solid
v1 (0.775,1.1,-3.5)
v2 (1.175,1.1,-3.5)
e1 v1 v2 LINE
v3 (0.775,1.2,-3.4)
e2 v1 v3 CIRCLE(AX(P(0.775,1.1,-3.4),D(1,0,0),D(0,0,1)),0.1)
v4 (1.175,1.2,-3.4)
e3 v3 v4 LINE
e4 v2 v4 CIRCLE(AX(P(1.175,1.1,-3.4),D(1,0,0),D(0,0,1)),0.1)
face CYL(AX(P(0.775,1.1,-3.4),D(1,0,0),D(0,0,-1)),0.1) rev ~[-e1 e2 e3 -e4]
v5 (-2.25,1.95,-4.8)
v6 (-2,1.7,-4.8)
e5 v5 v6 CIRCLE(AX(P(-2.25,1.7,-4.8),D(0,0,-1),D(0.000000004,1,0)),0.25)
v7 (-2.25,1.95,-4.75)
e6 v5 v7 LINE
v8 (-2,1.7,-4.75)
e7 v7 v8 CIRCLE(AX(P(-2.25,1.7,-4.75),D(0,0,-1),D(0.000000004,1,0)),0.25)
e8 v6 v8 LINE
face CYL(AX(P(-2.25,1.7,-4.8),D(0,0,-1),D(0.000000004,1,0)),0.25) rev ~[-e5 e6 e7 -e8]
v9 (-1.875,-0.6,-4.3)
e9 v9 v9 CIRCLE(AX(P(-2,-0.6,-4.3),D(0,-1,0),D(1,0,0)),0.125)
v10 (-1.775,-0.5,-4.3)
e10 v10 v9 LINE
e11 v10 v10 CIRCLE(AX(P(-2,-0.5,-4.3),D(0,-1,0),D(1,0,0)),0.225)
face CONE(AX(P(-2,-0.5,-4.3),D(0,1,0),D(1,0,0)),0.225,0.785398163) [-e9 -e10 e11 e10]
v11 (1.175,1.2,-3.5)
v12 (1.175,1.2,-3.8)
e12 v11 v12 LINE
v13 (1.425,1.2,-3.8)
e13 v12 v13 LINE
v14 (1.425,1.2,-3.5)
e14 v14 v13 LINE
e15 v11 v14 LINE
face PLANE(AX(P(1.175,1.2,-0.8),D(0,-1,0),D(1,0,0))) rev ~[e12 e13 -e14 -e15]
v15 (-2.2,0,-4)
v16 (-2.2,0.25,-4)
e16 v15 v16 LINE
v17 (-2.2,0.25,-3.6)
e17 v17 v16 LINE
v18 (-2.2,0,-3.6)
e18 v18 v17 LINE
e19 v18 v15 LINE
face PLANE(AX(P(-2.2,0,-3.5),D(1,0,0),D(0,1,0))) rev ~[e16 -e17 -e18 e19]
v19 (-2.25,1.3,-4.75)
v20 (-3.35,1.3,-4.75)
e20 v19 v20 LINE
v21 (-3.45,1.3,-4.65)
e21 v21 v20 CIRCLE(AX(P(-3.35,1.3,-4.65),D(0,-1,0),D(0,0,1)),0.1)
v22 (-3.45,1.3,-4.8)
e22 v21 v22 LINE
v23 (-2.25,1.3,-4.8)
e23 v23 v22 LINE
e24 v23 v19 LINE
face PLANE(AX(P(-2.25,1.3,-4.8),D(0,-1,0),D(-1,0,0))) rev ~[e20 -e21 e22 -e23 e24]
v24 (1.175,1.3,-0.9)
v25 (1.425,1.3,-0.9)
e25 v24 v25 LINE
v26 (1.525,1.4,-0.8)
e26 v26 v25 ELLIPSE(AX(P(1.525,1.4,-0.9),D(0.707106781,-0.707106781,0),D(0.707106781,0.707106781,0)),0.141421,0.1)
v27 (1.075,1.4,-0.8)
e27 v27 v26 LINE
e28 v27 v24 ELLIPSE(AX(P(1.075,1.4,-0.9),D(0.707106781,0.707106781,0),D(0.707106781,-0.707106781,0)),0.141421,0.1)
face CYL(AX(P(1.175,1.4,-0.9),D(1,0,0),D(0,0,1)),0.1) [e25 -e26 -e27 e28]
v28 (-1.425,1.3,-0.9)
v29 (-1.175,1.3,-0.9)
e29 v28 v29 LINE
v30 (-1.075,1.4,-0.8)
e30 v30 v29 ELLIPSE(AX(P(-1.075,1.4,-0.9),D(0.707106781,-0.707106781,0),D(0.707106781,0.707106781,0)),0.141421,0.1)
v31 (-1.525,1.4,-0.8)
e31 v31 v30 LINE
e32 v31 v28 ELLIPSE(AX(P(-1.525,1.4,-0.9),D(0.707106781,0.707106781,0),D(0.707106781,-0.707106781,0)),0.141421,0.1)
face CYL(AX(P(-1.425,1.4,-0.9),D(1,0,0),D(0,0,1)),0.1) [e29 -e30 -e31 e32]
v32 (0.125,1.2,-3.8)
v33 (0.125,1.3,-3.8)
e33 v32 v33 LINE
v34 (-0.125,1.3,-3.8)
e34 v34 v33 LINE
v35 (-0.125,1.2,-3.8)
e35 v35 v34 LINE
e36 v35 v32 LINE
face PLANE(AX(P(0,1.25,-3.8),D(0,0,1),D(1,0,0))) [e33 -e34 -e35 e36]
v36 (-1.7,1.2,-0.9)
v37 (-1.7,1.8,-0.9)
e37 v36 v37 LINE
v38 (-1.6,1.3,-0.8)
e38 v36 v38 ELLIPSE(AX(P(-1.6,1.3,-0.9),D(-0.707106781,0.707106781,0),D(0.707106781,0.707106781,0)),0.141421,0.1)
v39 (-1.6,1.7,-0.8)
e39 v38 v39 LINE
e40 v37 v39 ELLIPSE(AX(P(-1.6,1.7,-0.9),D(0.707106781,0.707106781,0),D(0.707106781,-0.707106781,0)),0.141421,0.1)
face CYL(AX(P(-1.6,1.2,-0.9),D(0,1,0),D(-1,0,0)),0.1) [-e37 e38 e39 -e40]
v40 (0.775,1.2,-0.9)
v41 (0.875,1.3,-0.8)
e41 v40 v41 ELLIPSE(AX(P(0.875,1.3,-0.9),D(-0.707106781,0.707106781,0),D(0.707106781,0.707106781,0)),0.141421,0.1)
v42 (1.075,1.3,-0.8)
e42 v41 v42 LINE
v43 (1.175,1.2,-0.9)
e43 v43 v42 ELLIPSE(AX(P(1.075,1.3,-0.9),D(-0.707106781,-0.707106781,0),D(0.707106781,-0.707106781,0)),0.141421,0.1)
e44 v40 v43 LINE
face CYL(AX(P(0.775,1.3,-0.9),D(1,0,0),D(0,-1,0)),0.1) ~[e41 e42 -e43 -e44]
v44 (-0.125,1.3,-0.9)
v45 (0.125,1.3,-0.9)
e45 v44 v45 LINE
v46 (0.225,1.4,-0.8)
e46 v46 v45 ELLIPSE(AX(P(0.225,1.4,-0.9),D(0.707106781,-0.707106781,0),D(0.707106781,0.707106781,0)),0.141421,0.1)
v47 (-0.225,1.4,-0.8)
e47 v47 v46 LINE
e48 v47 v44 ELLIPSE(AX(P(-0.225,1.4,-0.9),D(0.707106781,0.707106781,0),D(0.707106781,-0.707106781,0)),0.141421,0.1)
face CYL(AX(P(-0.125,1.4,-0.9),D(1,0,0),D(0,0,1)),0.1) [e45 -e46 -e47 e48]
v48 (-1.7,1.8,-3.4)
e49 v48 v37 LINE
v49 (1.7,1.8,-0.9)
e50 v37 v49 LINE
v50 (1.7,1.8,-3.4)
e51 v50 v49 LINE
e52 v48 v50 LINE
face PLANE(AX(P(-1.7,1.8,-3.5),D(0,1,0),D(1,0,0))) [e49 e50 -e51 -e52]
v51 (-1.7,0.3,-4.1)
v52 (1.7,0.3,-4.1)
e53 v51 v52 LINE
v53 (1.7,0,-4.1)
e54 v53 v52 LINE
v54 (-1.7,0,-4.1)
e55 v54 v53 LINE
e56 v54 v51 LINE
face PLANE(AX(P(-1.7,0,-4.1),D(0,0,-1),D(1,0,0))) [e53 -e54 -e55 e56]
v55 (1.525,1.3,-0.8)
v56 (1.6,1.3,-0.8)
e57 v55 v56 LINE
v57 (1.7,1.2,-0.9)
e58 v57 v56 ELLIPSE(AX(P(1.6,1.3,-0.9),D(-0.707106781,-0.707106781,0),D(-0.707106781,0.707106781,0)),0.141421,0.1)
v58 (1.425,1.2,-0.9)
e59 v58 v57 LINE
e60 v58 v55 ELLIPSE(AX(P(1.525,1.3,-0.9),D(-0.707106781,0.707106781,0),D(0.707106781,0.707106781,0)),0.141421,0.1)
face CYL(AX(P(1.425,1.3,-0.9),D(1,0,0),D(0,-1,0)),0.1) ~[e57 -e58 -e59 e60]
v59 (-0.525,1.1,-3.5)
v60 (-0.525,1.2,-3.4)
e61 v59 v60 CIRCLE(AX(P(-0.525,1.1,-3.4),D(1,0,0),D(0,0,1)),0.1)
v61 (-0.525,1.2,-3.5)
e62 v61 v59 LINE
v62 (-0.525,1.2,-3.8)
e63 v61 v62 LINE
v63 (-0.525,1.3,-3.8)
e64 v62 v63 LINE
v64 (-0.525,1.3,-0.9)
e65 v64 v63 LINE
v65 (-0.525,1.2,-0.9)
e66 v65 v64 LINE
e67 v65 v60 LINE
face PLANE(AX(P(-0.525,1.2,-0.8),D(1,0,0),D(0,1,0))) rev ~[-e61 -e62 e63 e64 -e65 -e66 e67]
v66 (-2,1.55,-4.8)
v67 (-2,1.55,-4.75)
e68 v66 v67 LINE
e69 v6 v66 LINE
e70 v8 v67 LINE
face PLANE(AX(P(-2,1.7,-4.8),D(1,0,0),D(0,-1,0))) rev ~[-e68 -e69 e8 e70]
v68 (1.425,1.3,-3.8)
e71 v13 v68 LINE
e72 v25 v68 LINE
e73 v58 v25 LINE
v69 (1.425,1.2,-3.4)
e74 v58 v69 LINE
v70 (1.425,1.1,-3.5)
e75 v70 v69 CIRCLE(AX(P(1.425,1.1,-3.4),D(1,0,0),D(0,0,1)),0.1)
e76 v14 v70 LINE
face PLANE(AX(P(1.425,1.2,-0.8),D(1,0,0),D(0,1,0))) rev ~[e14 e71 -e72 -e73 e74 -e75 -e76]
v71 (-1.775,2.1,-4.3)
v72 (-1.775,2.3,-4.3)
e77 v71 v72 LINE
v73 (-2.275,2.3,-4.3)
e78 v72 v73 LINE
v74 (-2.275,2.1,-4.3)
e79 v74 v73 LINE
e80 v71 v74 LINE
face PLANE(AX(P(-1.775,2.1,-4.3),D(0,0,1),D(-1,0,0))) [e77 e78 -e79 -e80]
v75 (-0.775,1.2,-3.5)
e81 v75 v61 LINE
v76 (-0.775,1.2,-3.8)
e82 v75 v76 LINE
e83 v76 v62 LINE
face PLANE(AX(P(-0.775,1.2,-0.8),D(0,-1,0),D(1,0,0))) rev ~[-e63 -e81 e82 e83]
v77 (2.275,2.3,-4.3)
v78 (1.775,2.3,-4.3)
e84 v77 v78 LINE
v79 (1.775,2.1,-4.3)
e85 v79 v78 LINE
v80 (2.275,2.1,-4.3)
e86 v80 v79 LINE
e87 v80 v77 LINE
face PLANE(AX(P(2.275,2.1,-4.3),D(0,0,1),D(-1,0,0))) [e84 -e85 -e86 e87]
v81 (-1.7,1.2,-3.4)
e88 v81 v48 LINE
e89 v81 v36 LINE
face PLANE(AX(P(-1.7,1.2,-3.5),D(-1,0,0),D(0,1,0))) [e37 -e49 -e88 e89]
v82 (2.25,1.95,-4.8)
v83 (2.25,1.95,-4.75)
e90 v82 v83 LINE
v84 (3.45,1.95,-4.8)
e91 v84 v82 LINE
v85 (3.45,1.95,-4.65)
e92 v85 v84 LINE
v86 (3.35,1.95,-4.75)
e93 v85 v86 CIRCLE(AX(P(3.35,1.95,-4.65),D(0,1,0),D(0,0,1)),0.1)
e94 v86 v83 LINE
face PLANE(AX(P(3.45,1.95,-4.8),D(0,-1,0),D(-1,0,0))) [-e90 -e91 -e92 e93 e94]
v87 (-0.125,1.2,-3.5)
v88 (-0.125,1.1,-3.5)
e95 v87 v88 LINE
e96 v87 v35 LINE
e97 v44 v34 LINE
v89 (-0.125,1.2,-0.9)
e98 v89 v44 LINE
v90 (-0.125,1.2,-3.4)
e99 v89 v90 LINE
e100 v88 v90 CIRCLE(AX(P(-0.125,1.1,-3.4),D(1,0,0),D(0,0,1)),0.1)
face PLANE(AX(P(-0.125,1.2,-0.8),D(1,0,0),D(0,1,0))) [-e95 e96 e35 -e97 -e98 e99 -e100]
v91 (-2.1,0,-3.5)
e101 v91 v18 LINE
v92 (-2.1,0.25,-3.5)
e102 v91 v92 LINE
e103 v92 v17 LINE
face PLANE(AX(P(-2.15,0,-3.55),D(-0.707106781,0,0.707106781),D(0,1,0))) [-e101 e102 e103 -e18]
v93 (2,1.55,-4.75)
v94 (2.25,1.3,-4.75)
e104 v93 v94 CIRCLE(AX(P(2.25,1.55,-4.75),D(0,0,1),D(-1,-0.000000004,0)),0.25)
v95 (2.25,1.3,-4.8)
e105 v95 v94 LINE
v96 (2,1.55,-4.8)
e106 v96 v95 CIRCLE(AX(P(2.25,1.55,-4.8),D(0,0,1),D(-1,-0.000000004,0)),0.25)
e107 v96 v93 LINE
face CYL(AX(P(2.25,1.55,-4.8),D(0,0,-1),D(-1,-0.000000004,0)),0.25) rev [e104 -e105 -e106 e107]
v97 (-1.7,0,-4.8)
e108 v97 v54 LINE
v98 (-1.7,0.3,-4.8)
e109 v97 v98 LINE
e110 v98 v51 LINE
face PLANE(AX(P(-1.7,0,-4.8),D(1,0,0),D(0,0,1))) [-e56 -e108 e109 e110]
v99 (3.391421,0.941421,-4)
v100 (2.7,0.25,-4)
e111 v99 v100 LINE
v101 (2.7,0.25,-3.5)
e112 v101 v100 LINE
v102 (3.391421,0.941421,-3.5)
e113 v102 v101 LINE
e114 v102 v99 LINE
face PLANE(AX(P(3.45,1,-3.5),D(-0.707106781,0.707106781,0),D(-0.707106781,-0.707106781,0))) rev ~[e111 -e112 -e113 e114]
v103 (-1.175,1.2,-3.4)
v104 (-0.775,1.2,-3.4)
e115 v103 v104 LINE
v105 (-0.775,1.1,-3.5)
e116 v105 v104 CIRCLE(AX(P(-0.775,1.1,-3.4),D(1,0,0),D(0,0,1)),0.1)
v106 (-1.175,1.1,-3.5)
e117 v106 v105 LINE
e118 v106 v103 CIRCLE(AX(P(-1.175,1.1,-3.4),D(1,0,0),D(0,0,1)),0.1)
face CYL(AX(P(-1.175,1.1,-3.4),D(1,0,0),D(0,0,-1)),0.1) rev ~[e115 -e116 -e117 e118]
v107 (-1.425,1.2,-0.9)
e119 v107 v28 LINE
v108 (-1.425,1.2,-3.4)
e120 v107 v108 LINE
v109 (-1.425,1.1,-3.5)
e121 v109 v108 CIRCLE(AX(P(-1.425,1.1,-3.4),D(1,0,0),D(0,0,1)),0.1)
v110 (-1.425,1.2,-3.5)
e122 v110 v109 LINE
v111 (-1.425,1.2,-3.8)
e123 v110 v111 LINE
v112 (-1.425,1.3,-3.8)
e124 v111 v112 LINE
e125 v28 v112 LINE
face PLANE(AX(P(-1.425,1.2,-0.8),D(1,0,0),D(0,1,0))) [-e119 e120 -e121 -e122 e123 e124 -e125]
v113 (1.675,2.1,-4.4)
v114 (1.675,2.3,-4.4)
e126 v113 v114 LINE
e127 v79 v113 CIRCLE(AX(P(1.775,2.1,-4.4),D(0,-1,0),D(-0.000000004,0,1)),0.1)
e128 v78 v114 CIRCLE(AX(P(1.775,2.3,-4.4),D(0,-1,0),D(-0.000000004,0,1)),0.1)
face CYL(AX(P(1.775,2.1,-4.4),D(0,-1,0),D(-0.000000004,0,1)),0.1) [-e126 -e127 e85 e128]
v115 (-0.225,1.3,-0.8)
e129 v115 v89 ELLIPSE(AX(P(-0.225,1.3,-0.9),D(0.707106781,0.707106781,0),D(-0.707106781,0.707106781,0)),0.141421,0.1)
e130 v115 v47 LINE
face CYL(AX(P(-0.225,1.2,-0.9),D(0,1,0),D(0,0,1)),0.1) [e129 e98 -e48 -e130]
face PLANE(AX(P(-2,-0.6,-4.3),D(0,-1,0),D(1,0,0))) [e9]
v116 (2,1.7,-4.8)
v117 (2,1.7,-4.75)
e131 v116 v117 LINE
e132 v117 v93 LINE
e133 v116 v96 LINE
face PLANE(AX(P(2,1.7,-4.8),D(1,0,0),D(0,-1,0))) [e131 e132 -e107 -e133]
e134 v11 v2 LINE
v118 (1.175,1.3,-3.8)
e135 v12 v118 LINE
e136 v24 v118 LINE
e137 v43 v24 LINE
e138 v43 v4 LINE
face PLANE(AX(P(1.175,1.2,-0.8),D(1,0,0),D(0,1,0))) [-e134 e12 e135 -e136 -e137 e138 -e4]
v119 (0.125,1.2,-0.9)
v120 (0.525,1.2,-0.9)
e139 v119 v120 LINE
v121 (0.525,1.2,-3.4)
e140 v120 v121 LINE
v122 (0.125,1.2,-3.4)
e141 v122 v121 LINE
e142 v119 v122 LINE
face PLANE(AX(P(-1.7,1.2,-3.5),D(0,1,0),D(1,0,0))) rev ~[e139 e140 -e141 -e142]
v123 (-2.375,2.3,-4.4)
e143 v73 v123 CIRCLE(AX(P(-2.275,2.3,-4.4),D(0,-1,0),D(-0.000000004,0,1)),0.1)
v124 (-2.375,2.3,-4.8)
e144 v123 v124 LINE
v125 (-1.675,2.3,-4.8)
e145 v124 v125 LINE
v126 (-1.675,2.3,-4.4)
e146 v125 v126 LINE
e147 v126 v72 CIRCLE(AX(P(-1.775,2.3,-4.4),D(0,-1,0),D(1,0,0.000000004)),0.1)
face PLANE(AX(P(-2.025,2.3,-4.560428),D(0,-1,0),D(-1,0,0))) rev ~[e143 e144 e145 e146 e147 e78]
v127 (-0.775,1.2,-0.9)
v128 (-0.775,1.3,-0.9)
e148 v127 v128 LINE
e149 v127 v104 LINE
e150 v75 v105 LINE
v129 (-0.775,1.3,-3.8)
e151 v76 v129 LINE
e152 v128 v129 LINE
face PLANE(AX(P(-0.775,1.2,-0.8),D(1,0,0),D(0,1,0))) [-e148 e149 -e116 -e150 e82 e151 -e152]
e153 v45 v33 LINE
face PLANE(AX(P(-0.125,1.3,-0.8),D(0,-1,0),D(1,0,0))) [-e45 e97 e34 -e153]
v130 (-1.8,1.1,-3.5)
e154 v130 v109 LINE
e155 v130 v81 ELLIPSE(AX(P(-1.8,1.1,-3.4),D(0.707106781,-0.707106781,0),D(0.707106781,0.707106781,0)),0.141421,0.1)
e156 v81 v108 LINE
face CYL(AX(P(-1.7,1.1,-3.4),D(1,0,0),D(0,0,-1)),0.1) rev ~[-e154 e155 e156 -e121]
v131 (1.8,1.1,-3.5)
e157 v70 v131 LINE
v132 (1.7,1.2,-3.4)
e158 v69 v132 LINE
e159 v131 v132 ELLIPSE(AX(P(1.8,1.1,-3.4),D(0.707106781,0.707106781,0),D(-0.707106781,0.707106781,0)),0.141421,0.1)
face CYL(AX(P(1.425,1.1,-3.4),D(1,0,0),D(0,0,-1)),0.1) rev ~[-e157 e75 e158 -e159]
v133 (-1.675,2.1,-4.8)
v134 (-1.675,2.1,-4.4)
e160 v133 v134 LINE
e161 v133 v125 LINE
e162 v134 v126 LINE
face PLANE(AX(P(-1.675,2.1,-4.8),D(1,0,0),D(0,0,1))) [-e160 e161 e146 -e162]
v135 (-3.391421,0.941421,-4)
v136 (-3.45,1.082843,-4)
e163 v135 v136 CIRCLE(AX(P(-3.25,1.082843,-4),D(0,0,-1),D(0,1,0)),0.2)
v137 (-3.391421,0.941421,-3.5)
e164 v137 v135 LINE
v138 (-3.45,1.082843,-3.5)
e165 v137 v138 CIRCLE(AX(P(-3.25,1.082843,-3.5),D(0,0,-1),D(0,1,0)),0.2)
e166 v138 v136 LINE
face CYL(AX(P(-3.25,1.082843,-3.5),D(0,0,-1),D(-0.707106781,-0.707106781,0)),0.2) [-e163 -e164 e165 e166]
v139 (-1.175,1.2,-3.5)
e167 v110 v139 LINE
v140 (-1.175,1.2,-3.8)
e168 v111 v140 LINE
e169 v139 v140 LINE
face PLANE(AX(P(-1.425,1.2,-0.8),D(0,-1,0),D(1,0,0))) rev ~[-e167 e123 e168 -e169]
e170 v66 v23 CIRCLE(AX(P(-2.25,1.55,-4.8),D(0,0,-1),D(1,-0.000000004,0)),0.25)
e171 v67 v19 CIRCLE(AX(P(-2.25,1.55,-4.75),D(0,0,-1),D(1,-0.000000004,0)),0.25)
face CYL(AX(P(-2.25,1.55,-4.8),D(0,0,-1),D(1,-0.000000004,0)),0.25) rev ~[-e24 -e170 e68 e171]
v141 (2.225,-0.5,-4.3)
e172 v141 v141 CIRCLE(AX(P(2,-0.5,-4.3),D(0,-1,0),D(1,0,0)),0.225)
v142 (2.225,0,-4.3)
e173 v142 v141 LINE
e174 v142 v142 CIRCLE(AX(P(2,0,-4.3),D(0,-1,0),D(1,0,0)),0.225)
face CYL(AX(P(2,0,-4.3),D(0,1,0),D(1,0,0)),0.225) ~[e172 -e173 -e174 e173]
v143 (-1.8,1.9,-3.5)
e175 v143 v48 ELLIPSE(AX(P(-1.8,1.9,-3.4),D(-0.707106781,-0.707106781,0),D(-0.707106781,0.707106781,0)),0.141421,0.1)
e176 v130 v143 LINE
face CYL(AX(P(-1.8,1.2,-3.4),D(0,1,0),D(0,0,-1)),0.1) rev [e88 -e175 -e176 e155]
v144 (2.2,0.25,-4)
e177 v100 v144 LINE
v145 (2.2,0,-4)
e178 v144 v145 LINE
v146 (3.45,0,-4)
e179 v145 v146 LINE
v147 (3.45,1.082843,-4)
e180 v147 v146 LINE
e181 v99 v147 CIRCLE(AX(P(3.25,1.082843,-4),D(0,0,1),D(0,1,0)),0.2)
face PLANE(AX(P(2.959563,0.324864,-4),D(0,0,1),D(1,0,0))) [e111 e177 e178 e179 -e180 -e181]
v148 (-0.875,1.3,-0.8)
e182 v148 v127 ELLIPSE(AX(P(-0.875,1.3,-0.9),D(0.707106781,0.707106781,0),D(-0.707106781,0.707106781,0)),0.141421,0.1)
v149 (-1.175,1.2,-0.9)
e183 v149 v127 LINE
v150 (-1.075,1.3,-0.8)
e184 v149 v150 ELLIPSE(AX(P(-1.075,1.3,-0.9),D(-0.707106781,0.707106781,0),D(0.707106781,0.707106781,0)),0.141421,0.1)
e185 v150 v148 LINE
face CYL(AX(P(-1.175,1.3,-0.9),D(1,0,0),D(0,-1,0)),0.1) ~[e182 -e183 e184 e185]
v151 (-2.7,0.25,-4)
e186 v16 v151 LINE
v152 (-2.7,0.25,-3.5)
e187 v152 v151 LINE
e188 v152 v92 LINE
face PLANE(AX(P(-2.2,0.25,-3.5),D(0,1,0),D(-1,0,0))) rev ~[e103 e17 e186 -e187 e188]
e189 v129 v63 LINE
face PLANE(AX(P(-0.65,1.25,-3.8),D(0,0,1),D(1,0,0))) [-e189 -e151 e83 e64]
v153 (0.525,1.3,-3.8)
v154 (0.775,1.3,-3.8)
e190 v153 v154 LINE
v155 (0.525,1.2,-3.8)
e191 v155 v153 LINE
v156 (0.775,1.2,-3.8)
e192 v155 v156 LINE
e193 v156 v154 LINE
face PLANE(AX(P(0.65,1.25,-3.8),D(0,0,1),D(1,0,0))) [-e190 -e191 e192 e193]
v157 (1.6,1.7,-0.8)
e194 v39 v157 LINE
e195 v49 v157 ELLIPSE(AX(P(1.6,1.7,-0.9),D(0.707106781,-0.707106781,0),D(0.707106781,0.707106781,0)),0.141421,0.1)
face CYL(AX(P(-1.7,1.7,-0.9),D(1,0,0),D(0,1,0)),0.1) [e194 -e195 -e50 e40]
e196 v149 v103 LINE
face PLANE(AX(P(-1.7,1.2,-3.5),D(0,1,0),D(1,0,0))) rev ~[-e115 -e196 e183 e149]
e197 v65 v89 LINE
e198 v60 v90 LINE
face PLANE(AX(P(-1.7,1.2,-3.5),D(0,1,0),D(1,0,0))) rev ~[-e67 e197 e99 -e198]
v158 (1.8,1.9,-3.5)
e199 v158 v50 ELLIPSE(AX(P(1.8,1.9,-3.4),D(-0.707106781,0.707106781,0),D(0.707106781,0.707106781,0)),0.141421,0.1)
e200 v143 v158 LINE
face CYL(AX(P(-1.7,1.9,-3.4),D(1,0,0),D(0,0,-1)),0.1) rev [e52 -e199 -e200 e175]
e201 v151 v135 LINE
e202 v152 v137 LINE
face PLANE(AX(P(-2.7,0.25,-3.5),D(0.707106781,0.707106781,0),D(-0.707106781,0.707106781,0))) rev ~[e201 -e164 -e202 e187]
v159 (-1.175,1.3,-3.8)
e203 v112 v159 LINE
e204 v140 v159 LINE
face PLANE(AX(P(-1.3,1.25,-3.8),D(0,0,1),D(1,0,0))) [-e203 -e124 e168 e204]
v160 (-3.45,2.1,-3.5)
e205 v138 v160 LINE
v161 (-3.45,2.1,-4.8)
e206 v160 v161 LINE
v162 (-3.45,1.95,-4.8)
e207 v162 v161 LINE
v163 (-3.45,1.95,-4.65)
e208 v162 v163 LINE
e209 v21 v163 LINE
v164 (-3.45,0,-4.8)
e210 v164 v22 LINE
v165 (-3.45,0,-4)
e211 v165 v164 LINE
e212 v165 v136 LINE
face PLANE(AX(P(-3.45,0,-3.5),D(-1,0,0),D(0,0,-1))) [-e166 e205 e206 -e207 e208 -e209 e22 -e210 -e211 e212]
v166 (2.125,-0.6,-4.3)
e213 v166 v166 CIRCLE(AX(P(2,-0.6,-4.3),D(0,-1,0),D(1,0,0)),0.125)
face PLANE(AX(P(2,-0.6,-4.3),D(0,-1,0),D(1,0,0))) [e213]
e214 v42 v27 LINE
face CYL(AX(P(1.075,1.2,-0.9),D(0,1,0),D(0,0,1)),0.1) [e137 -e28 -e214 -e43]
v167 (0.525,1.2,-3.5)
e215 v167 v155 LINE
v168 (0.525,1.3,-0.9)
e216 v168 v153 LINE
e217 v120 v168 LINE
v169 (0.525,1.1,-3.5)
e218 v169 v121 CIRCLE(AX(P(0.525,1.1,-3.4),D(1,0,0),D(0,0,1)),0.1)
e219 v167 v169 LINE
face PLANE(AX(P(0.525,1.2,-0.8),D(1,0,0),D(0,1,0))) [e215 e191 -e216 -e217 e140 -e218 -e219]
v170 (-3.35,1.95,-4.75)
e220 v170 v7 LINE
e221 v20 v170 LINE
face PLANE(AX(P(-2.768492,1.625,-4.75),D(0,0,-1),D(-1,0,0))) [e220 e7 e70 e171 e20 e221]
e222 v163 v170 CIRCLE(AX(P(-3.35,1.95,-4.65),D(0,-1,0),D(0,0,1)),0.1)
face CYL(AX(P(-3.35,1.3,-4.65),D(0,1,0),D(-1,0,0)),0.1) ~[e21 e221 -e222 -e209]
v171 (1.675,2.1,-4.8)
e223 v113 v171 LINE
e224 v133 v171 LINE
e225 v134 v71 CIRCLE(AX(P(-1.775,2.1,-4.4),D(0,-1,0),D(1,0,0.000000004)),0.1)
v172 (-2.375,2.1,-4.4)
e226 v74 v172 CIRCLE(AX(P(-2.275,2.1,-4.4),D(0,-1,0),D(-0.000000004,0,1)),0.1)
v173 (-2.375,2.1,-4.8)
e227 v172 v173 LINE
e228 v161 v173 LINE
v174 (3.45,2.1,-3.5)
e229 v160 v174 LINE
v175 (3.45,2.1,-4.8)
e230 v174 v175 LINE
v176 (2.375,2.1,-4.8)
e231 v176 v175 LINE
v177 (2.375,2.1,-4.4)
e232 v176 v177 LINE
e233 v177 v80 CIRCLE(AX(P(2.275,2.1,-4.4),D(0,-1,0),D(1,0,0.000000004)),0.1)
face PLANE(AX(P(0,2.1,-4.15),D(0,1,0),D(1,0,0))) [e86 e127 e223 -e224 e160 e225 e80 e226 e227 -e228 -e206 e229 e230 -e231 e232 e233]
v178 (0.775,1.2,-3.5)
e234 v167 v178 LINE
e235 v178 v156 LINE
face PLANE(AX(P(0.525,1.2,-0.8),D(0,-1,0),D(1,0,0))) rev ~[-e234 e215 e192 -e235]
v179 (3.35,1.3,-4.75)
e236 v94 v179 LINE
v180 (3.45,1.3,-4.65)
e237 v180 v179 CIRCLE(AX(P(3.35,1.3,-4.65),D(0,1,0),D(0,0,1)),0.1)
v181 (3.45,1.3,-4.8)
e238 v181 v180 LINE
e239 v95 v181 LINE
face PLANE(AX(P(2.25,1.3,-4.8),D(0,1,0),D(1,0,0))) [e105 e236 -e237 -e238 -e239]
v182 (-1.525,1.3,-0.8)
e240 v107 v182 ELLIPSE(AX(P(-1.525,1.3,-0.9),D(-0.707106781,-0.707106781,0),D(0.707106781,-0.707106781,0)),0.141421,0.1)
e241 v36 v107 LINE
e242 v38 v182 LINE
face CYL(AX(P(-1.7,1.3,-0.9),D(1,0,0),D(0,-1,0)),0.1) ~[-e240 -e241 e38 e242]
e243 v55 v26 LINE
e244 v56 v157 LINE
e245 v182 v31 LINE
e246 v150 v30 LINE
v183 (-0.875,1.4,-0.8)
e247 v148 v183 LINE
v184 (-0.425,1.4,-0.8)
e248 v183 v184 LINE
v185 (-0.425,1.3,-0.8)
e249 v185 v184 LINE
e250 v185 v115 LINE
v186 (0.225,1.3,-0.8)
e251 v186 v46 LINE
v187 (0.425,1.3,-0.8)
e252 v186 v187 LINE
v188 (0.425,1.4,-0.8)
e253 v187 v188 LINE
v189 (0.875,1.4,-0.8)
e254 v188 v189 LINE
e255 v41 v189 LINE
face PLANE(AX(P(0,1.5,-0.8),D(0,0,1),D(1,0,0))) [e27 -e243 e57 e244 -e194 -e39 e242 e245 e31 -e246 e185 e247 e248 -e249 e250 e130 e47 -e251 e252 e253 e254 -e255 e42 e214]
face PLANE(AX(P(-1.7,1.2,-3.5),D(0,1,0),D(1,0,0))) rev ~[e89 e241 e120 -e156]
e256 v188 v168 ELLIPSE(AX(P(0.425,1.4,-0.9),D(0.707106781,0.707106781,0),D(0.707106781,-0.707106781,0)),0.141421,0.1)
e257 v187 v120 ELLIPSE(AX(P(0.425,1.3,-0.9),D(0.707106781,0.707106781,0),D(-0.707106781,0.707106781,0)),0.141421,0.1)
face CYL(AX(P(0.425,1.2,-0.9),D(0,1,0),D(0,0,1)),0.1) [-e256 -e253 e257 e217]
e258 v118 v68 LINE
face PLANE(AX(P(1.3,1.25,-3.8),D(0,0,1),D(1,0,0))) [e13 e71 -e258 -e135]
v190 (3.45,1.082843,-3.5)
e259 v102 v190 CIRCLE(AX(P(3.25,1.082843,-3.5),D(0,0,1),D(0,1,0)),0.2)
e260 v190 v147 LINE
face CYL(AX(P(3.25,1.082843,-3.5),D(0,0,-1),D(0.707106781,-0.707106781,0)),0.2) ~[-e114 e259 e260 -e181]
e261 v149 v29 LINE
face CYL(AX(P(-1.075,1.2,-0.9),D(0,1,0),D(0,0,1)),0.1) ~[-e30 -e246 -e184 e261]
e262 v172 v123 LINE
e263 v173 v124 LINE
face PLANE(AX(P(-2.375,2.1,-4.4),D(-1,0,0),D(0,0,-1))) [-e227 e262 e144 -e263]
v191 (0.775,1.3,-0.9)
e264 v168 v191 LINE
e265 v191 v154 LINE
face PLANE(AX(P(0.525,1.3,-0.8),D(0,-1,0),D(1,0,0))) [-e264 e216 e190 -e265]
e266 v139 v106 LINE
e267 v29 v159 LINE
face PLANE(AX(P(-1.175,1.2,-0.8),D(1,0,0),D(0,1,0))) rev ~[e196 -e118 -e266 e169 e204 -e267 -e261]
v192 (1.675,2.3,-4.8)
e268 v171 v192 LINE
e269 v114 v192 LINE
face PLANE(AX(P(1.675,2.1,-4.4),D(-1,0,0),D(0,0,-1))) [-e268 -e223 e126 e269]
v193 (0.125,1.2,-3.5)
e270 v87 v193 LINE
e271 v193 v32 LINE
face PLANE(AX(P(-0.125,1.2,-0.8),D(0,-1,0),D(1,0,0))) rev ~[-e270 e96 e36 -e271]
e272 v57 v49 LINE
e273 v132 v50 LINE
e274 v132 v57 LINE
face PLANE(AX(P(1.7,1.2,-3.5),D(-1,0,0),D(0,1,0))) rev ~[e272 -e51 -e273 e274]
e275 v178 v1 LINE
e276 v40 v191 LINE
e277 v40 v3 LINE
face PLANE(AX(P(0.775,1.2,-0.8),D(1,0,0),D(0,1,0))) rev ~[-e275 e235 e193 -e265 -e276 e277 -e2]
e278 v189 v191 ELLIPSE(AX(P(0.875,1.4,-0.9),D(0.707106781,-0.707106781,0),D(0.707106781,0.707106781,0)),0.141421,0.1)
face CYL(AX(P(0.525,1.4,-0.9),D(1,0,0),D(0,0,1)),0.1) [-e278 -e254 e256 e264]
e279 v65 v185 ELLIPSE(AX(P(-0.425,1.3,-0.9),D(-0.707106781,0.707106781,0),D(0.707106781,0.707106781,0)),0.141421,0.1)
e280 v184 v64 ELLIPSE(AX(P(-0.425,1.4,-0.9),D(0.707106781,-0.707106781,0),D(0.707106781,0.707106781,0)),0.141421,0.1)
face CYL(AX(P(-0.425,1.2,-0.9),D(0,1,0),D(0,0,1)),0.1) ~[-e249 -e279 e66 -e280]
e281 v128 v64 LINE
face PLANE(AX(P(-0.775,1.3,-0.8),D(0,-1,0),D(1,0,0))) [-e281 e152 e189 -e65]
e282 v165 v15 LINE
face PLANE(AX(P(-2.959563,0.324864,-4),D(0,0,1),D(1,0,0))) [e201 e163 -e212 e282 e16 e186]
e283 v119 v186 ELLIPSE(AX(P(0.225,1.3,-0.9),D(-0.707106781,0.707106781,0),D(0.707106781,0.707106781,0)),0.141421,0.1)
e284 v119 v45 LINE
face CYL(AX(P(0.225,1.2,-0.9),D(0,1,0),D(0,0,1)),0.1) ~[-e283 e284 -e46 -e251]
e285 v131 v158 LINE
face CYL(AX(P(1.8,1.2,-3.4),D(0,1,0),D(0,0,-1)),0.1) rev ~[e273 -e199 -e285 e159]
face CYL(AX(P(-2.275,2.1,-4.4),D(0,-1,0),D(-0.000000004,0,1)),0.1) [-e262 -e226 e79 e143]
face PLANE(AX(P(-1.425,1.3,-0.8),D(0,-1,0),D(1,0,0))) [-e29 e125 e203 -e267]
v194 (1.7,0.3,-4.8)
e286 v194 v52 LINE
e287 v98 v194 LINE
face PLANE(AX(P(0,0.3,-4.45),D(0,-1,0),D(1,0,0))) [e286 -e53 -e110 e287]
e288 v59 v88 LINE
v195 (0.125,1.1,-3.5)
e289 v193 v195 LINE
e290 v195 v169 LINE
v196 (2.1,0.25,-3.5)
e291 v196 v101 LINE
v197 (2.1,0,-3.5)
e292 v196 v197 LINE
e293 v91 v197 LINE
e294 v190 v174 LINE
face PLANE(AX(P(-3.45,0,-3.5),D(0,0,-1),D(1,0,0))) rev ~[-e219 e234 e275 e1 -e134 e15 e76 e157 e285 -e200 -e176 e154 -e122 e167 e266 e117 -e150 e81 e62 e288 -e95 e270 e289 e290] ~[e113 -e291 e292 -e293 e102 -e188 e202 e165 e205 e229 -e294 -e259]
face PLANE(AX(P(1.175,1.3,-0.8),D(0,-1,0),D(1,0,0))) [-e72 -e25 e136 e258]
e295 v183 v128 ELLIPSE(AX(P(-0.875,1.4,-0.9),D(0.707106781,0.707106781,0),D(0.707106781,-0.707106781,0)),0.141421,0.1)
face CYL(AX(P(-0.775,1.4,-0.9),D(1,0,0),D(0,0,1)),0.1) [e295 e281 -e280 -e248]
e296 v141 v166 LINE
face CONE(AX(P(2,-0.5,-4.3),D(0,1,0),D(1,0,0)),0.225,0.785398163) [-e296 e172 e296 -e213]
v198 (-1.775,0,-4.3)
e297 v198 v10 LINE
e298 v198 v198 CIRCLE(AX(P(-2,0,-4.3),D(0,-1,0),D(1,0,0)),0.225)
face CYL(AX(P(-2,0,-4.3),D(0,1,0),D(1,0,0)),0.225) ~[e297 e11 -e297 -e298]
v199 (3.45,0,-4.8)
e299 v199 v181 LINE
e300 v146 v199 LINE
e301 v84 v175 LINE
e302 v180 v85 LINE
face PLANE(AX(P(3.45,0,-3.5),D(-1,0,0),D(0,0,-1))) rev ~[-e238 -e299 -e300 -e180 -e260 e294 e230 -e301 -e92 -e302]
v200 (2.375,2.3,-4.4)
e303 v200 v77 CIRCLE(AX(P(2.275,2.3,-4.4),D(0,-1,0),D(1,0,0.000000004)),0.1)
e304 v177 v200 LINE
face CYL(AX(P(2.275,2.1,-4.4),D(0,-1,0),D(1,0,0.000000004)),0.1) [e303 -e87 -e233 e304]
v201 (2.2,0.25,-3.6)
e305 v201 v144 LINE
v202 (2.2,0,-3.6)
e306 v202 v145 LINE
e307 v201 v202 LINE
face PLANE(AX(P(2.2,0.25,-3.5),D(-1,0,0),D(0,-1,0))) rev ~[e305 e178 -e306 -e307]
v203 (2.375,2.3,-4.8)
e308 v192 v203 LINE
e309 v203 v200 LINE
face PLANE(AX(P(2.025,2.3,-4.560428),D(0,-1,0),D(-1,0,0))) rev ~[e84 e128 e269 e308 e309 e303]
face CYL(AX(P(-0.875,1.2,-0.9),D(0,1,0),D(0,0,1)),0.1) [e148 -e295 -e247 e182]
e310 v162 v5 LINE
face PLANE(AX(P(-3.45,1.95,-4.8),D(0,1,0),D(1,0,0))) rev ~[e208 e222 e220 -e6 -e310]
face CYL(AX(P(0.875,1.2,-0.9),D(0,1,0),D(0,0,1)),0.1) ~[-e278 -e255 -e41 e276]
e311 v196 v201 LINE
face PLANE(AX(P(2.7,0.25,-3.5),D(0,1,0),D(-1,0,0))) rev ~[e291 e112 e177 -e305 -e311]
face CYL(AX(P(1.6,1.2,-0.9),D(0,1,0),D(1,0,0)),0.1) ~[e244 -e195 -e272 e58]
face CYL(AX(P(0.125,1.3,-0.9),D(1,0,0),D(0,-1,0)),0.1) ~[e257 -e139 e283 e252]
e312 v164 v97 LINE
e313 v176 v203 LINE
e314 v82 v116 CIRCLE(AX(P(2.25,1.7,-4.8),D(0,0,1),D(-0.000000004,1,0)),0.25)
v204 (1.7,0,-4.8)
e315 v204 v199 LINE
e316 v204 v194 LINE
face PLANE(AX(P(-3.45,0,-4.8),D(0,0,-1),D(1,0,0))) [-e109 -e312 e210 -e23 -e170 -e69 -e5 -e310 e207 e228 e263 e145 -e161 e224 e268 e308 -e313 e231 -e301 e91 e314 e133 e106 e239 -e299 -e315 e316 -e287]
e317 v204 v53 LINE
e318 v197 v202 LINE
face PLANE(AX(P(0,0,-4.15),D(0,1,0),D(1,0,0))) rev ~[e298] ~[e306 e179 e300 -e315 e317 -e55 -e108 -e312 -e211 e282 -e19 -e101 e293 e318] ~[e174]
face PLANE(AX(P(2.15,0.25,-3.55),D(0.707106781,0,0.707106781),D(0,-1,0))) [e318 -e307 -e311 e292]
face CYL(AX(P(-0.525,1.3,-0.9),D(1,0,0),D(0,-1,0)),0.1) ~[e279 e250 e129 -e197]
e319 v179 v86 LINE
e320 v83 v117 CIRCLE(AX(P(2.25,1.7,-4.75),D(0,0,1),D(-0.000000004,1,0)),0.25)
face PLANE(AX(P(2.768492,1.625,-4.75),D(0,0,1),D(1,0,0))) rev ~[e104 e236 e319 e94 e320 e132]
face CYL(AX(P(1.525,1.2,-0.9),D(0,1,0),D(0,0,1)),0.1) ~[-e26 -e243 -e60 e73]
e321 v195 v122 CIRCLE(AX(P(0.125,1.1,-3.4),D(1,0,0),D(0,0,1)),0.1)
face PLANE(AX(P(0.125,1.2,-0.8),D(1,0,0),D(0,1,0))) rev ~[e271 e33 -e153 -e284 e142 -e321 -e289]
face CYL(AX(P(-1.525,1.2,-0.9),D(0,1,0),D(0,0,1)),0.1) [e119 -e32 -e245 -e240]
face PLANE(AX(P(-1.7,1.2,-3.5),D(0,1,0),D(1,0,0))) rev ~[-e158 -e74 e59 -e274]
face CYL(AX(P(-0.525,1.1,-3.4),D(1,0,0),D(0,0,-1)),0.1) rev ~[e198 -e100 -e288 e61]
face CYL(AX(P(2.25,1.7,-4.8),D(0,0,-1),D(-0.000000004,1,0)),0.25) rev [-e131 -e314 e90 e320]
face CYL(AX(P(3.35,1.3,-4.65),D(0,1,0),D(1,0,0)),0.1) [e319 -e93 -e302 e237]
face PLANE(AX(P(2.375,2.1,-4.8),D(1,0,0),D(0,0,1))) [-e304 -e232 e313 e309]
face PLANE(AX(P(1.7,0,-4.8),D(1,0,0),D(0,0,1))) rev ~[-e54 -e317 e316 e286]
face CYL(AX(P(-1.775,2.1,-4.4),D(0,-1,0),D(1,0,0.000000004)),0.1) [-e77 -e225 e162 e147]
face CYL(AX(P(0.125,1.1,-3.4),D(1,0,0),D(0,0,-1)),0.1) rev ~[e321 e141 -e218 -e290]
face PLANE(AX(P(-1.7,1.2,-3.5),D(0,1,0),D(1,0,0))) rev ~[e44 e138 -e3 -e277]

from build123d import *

# Parameters (mm, degrees)
SKETCH1_W           = 6.9
SKETCH1_H           = 1.3
BOSS_EXTRUDE1_DEPTH = 2.1
SKETCH2_W           = 3.4
SKETCH2_H           = 0.6
BOSS_EXTRUDE2_DEPTH = 2.7
SKETCH3_W           = 0.25
SKETCH3_H           = 0.1
CUT_EXTRUDE1_DEPTH  = 3
FILLET1_R           = 0.1
CUT_EXTRUDE2_DEPTH  = 0.5
FILLET3_R           = 0.2
CHAMFER1_SIZE       = 0.1
CUT_EXTRUDE3_DEPTH  = 0.05
FILLET4_R           = 0.1
SKETCH6_R           = 0.225
BOSS_EXTRUDE3_DEPTH = 0.6
CHAMFER2_SIZE       = 0.1
SKETCH7_W           = 3.4
SKETCH7_H           = 0.7
CUT_EXTRUDE4_DEPTH  = 0.3
BOSS_EXTRUDE4_DEPTH = 0.2


with BuildPart() as part:
    # Sketch1 → Boss-Extrude1 (new body)
    with BuildSketch(Plane(origin=(0, 0, 0), x_dir=(1, 0, 0), z_dir=(0, 1, 0))):
        with Locations((0, 4.15)):
            Rectangle(SKETCH1_W, SKETCH1_H)
    extrude(amount=BOSS_EXTRUDE1_DEPTH)

    # Sketch2 → Boss-Extrude2 (add)
    with BuildSketch(Plane.XY.offset(-3.5)):
        with Locations((0, 1.5)):
            Rectangle(SKETCH2_W, SKETCH2_H)
    extrude(amount=BOSS_EXTRUDE2_DEPTH)

    # Sketch3 → Cut-Extrude1 (cut)
    with BuildSketch(Plane.XY.offset(-0.8)):
        with Locations((-1.3, 1.25)):
            Rectangle(SKETCH3_W, SKETCH3_H)
        with Locations((-0.65, 1.25)):
            Rectangle(SKETCH3_W, SKETCH3_H)
        with Locations((0, 1.25)):
            Rectangle(SKETCH3_W, SKETCH3_H)
        with Locations((0.65, 1.25)):
            Rectangle(SKETCH3_W, SKETCH3_H)
        with Locations((1.3, 1.25)):
            Rectangle(SKETCH3_W, SKETCH3_H)
    extrude(amount=-CUT_EXTRUDE1_DEPTH, mode=Mode.SUBTRACT)

    # Fillet1
    fillet1_edges = [part.edges().sort_by_distance(p)[0] for p in [
        (0, 1.8, -0.8),
        (1.7, 1.5, -0.8),
        (1.5625, 1.2, -0.8),
        (-1.5625, 1.2, -0.8),
        (-1.7, 1.5, -0.8),
        (-1.7, 1.5, -3.5),
        (0, 1.8, -3.5),
        (1.7, 1.5, -3.5),
        (1.5625, 1.2, -3.5),
        (-1.5625, 1.2, -3.5),
        (0.975, 1.2, -0.8),
        (0.775, 1.25, -0.8),
        (0.65, 1.3, -0.8),
        (0.525, 1.25, -0.8),
        (0.325, 1.2, -0.8),
        (0.125, 1.25, -0.8),
        (0, 1.3, -0.8),
        (-0.125, 1.25, -0.8),
        (-0.325, 1.2, -0.8),
        (-0.525, 1.25, -0.8),
        (-0.65, 1.3, -0.8),
        (-0.775, 1.25, -0.8),
        (-0.975, 1.2, -0.8),
        (-1.175, 1.25, -0.8),
        (-1.3, 1.3, -0.8),
        (-1.425, 1.25, -0.8),
        (1.425, 1.25, -0.8),
        (1.3, 1.3, -0.8),
        (1.175, 1.25, -0.8),
        (0.975, 1.2, -3.5),
        (0.325, 1.2, -3.5),
        (-0.325, 1.2, -3.5),
        (-0.975, 1.2, -3.5),
    ]]
    fillet(fillet1_edges, radius=FILLET1_R)

    # Sketch4 → Cut-Extrude2 (cut)
    with BuildSketch(Plane.XY.offset(-3.5)):
        Polygon((-2.7, 0.25), (-3.45, 1), (-3.45, 0), (-2.2, 0), (-2.2, 0.25), align=None)
        Polygon((3.45, 1), (2.7, 0.25), (2.2, 0.25), (2.2, 0), (3.45, 0), align=None)
    extrude(amount=-CUT_EXTRUDE2_DEPTH, mode=Mode.SUBTRACT)

    # Fillet3
    fillet3_edges = [part.edges().sort_by_distance(p)[0] for p in [
        (-3.45, 1, -3.75),
        (3.45, 1, -3.75),
    ]]
    fillet(fillet3_edges, radius=FILLET3_R)

    # Chamfer1
    chamfer1_edges = [part.edges().sort_by_distance(p)[0] for p in [
        (-2.2, 0.125, -3.5),
        (2.2, 0.125, -3.5),
    ]]
    chamfer(chamfer1_edges, length=CHAMFER1_SIZE)

    # Sketch5 → Cut-Extrude3 (cut)
    with BuildSketch(Plane(origin=(0, 0, -4.8), x_dir=(-1, 0, 0), z_dir=(0, 0, -1))):
        with BuildLine():
            Line((-3.45, 1.95), (-2.25, 1.95))
            ThreePointArc((-2.25, 1.95), (-2.073223305, 1.876776695), (-2, 1.7))
            Line((-2, 1.7), (-2, 1.55))
            ThreePointArc((-2, 1.55), (-2.073223305, 1.373223305), (-2.25, 1.3))
            Line((-2.25, 1.3), (-3.45, 1.3))
            Line((-3.45, 1.3), (-3.45, 1.95))
        make_face()
        with BuildLine():
            Line((3.45, 1.95), (2.25, 1.95))
            ThreePointArc((2.25, 1.95), (2.073223305, 1.876776695), (2, 1.7))
            Line((2, 1.7), (2, 1.55))
            ThreePointArc((2, 1.55), (2.073223305, 1.373223305), (2.25, 1.3))
            Line((2.25, 1.3), (3.45, 1.3))
            Line((3.45, 1.3), (3.45, 1.95))
        make_face()
    extrude(amount=-CUT_EXTRUDE3_DEPTH, mode=Mode.SUBTRACT)

    # Fillet4
    fillet4_edges = [part.edges().sort_by_distance(p)[0] for p in [
        (3.45, 1.625, -4.75),
        (-3.45, 1.625, -4.75),
    ]]
    fillet(fillet4_edges, radius=FILLET4_R)

    # Sketch6 → Boss-Extrude3 (add)
    with BuildSketch(Plane.XZ):
        with Locations((2, -4.3)):
            Circle(SKETCH6_R)
        with Locations((-2, -4.3)):
            Circle(SKETCH6_R)
    extrude(amount=BOSS_EXTRUDE3_DEPTH)

    # Chamfer2
    chamfer2_edges = [part.edges().sort_by_distance(p)[0] for p in [
        (1.775, -0.6, -4.3),
        (-2.225, -0.6, -4.3),
    ]]
    chamfer(chamfer2_edges, length=CHAMFER2_SIZE)

    # Sketch7 → Cut-Extrude4 (cut)
    with BuildSketch(Plane.XZ):
        with Locations((0, -4.45)):
            Rectangle(SKETCH7_W, SKETCH7_H)
    extrude(amount=-CUT_EXTRUDE4_DEPTH, mode=Mode.SUBTRACT)

    # Sketch8 → Boss-Extrude4 (add)
    with BuildSketch(Plane(origin=(0, 2.1, 0), x_dir=(1, 0, 0), z_dir=(0, 1, 0))):
        with BuildLine():
            Line((-2.375, 4.8), (-1.675, 4.8))
            Line((-1.675, 4.8), (-1.675, 4.4))
            ThreePointArc((-1.675, 4.4), (-1.704289322, 4.329289322), (-1.775, 4.3))
            Line((-1.775, 4.3), (-2.275, 4.3))
            ThreePointArc((-2.275, 4.3), (-2.345710678, 4.329289322), (-2.375, 4.4))
            Line((-2.375, 4.4), (-2.375, 4.8))
        make_face()
        with BuildLine():
            Line((1.675, 4.8), (2.375, 4.8))
            Line((2.375, 4.8), (2.375, 4.4))
            ThreePointArc((2.375, 4.4), (2.345710678, 4.329289322), (2.275, 4.3))
            Line((2.275, 4.3), (1.775, 4.3))
            ThreePointArc((1.775, 4.3), (1.704289322, 4.329289322), (1.675, 4.4))
            Line((1.675, 4.4), (1.675, 4.8))
        make_face()
    extrude(amount=BOSS_EXTRUDE4_DEPTH)


solid = part.part
